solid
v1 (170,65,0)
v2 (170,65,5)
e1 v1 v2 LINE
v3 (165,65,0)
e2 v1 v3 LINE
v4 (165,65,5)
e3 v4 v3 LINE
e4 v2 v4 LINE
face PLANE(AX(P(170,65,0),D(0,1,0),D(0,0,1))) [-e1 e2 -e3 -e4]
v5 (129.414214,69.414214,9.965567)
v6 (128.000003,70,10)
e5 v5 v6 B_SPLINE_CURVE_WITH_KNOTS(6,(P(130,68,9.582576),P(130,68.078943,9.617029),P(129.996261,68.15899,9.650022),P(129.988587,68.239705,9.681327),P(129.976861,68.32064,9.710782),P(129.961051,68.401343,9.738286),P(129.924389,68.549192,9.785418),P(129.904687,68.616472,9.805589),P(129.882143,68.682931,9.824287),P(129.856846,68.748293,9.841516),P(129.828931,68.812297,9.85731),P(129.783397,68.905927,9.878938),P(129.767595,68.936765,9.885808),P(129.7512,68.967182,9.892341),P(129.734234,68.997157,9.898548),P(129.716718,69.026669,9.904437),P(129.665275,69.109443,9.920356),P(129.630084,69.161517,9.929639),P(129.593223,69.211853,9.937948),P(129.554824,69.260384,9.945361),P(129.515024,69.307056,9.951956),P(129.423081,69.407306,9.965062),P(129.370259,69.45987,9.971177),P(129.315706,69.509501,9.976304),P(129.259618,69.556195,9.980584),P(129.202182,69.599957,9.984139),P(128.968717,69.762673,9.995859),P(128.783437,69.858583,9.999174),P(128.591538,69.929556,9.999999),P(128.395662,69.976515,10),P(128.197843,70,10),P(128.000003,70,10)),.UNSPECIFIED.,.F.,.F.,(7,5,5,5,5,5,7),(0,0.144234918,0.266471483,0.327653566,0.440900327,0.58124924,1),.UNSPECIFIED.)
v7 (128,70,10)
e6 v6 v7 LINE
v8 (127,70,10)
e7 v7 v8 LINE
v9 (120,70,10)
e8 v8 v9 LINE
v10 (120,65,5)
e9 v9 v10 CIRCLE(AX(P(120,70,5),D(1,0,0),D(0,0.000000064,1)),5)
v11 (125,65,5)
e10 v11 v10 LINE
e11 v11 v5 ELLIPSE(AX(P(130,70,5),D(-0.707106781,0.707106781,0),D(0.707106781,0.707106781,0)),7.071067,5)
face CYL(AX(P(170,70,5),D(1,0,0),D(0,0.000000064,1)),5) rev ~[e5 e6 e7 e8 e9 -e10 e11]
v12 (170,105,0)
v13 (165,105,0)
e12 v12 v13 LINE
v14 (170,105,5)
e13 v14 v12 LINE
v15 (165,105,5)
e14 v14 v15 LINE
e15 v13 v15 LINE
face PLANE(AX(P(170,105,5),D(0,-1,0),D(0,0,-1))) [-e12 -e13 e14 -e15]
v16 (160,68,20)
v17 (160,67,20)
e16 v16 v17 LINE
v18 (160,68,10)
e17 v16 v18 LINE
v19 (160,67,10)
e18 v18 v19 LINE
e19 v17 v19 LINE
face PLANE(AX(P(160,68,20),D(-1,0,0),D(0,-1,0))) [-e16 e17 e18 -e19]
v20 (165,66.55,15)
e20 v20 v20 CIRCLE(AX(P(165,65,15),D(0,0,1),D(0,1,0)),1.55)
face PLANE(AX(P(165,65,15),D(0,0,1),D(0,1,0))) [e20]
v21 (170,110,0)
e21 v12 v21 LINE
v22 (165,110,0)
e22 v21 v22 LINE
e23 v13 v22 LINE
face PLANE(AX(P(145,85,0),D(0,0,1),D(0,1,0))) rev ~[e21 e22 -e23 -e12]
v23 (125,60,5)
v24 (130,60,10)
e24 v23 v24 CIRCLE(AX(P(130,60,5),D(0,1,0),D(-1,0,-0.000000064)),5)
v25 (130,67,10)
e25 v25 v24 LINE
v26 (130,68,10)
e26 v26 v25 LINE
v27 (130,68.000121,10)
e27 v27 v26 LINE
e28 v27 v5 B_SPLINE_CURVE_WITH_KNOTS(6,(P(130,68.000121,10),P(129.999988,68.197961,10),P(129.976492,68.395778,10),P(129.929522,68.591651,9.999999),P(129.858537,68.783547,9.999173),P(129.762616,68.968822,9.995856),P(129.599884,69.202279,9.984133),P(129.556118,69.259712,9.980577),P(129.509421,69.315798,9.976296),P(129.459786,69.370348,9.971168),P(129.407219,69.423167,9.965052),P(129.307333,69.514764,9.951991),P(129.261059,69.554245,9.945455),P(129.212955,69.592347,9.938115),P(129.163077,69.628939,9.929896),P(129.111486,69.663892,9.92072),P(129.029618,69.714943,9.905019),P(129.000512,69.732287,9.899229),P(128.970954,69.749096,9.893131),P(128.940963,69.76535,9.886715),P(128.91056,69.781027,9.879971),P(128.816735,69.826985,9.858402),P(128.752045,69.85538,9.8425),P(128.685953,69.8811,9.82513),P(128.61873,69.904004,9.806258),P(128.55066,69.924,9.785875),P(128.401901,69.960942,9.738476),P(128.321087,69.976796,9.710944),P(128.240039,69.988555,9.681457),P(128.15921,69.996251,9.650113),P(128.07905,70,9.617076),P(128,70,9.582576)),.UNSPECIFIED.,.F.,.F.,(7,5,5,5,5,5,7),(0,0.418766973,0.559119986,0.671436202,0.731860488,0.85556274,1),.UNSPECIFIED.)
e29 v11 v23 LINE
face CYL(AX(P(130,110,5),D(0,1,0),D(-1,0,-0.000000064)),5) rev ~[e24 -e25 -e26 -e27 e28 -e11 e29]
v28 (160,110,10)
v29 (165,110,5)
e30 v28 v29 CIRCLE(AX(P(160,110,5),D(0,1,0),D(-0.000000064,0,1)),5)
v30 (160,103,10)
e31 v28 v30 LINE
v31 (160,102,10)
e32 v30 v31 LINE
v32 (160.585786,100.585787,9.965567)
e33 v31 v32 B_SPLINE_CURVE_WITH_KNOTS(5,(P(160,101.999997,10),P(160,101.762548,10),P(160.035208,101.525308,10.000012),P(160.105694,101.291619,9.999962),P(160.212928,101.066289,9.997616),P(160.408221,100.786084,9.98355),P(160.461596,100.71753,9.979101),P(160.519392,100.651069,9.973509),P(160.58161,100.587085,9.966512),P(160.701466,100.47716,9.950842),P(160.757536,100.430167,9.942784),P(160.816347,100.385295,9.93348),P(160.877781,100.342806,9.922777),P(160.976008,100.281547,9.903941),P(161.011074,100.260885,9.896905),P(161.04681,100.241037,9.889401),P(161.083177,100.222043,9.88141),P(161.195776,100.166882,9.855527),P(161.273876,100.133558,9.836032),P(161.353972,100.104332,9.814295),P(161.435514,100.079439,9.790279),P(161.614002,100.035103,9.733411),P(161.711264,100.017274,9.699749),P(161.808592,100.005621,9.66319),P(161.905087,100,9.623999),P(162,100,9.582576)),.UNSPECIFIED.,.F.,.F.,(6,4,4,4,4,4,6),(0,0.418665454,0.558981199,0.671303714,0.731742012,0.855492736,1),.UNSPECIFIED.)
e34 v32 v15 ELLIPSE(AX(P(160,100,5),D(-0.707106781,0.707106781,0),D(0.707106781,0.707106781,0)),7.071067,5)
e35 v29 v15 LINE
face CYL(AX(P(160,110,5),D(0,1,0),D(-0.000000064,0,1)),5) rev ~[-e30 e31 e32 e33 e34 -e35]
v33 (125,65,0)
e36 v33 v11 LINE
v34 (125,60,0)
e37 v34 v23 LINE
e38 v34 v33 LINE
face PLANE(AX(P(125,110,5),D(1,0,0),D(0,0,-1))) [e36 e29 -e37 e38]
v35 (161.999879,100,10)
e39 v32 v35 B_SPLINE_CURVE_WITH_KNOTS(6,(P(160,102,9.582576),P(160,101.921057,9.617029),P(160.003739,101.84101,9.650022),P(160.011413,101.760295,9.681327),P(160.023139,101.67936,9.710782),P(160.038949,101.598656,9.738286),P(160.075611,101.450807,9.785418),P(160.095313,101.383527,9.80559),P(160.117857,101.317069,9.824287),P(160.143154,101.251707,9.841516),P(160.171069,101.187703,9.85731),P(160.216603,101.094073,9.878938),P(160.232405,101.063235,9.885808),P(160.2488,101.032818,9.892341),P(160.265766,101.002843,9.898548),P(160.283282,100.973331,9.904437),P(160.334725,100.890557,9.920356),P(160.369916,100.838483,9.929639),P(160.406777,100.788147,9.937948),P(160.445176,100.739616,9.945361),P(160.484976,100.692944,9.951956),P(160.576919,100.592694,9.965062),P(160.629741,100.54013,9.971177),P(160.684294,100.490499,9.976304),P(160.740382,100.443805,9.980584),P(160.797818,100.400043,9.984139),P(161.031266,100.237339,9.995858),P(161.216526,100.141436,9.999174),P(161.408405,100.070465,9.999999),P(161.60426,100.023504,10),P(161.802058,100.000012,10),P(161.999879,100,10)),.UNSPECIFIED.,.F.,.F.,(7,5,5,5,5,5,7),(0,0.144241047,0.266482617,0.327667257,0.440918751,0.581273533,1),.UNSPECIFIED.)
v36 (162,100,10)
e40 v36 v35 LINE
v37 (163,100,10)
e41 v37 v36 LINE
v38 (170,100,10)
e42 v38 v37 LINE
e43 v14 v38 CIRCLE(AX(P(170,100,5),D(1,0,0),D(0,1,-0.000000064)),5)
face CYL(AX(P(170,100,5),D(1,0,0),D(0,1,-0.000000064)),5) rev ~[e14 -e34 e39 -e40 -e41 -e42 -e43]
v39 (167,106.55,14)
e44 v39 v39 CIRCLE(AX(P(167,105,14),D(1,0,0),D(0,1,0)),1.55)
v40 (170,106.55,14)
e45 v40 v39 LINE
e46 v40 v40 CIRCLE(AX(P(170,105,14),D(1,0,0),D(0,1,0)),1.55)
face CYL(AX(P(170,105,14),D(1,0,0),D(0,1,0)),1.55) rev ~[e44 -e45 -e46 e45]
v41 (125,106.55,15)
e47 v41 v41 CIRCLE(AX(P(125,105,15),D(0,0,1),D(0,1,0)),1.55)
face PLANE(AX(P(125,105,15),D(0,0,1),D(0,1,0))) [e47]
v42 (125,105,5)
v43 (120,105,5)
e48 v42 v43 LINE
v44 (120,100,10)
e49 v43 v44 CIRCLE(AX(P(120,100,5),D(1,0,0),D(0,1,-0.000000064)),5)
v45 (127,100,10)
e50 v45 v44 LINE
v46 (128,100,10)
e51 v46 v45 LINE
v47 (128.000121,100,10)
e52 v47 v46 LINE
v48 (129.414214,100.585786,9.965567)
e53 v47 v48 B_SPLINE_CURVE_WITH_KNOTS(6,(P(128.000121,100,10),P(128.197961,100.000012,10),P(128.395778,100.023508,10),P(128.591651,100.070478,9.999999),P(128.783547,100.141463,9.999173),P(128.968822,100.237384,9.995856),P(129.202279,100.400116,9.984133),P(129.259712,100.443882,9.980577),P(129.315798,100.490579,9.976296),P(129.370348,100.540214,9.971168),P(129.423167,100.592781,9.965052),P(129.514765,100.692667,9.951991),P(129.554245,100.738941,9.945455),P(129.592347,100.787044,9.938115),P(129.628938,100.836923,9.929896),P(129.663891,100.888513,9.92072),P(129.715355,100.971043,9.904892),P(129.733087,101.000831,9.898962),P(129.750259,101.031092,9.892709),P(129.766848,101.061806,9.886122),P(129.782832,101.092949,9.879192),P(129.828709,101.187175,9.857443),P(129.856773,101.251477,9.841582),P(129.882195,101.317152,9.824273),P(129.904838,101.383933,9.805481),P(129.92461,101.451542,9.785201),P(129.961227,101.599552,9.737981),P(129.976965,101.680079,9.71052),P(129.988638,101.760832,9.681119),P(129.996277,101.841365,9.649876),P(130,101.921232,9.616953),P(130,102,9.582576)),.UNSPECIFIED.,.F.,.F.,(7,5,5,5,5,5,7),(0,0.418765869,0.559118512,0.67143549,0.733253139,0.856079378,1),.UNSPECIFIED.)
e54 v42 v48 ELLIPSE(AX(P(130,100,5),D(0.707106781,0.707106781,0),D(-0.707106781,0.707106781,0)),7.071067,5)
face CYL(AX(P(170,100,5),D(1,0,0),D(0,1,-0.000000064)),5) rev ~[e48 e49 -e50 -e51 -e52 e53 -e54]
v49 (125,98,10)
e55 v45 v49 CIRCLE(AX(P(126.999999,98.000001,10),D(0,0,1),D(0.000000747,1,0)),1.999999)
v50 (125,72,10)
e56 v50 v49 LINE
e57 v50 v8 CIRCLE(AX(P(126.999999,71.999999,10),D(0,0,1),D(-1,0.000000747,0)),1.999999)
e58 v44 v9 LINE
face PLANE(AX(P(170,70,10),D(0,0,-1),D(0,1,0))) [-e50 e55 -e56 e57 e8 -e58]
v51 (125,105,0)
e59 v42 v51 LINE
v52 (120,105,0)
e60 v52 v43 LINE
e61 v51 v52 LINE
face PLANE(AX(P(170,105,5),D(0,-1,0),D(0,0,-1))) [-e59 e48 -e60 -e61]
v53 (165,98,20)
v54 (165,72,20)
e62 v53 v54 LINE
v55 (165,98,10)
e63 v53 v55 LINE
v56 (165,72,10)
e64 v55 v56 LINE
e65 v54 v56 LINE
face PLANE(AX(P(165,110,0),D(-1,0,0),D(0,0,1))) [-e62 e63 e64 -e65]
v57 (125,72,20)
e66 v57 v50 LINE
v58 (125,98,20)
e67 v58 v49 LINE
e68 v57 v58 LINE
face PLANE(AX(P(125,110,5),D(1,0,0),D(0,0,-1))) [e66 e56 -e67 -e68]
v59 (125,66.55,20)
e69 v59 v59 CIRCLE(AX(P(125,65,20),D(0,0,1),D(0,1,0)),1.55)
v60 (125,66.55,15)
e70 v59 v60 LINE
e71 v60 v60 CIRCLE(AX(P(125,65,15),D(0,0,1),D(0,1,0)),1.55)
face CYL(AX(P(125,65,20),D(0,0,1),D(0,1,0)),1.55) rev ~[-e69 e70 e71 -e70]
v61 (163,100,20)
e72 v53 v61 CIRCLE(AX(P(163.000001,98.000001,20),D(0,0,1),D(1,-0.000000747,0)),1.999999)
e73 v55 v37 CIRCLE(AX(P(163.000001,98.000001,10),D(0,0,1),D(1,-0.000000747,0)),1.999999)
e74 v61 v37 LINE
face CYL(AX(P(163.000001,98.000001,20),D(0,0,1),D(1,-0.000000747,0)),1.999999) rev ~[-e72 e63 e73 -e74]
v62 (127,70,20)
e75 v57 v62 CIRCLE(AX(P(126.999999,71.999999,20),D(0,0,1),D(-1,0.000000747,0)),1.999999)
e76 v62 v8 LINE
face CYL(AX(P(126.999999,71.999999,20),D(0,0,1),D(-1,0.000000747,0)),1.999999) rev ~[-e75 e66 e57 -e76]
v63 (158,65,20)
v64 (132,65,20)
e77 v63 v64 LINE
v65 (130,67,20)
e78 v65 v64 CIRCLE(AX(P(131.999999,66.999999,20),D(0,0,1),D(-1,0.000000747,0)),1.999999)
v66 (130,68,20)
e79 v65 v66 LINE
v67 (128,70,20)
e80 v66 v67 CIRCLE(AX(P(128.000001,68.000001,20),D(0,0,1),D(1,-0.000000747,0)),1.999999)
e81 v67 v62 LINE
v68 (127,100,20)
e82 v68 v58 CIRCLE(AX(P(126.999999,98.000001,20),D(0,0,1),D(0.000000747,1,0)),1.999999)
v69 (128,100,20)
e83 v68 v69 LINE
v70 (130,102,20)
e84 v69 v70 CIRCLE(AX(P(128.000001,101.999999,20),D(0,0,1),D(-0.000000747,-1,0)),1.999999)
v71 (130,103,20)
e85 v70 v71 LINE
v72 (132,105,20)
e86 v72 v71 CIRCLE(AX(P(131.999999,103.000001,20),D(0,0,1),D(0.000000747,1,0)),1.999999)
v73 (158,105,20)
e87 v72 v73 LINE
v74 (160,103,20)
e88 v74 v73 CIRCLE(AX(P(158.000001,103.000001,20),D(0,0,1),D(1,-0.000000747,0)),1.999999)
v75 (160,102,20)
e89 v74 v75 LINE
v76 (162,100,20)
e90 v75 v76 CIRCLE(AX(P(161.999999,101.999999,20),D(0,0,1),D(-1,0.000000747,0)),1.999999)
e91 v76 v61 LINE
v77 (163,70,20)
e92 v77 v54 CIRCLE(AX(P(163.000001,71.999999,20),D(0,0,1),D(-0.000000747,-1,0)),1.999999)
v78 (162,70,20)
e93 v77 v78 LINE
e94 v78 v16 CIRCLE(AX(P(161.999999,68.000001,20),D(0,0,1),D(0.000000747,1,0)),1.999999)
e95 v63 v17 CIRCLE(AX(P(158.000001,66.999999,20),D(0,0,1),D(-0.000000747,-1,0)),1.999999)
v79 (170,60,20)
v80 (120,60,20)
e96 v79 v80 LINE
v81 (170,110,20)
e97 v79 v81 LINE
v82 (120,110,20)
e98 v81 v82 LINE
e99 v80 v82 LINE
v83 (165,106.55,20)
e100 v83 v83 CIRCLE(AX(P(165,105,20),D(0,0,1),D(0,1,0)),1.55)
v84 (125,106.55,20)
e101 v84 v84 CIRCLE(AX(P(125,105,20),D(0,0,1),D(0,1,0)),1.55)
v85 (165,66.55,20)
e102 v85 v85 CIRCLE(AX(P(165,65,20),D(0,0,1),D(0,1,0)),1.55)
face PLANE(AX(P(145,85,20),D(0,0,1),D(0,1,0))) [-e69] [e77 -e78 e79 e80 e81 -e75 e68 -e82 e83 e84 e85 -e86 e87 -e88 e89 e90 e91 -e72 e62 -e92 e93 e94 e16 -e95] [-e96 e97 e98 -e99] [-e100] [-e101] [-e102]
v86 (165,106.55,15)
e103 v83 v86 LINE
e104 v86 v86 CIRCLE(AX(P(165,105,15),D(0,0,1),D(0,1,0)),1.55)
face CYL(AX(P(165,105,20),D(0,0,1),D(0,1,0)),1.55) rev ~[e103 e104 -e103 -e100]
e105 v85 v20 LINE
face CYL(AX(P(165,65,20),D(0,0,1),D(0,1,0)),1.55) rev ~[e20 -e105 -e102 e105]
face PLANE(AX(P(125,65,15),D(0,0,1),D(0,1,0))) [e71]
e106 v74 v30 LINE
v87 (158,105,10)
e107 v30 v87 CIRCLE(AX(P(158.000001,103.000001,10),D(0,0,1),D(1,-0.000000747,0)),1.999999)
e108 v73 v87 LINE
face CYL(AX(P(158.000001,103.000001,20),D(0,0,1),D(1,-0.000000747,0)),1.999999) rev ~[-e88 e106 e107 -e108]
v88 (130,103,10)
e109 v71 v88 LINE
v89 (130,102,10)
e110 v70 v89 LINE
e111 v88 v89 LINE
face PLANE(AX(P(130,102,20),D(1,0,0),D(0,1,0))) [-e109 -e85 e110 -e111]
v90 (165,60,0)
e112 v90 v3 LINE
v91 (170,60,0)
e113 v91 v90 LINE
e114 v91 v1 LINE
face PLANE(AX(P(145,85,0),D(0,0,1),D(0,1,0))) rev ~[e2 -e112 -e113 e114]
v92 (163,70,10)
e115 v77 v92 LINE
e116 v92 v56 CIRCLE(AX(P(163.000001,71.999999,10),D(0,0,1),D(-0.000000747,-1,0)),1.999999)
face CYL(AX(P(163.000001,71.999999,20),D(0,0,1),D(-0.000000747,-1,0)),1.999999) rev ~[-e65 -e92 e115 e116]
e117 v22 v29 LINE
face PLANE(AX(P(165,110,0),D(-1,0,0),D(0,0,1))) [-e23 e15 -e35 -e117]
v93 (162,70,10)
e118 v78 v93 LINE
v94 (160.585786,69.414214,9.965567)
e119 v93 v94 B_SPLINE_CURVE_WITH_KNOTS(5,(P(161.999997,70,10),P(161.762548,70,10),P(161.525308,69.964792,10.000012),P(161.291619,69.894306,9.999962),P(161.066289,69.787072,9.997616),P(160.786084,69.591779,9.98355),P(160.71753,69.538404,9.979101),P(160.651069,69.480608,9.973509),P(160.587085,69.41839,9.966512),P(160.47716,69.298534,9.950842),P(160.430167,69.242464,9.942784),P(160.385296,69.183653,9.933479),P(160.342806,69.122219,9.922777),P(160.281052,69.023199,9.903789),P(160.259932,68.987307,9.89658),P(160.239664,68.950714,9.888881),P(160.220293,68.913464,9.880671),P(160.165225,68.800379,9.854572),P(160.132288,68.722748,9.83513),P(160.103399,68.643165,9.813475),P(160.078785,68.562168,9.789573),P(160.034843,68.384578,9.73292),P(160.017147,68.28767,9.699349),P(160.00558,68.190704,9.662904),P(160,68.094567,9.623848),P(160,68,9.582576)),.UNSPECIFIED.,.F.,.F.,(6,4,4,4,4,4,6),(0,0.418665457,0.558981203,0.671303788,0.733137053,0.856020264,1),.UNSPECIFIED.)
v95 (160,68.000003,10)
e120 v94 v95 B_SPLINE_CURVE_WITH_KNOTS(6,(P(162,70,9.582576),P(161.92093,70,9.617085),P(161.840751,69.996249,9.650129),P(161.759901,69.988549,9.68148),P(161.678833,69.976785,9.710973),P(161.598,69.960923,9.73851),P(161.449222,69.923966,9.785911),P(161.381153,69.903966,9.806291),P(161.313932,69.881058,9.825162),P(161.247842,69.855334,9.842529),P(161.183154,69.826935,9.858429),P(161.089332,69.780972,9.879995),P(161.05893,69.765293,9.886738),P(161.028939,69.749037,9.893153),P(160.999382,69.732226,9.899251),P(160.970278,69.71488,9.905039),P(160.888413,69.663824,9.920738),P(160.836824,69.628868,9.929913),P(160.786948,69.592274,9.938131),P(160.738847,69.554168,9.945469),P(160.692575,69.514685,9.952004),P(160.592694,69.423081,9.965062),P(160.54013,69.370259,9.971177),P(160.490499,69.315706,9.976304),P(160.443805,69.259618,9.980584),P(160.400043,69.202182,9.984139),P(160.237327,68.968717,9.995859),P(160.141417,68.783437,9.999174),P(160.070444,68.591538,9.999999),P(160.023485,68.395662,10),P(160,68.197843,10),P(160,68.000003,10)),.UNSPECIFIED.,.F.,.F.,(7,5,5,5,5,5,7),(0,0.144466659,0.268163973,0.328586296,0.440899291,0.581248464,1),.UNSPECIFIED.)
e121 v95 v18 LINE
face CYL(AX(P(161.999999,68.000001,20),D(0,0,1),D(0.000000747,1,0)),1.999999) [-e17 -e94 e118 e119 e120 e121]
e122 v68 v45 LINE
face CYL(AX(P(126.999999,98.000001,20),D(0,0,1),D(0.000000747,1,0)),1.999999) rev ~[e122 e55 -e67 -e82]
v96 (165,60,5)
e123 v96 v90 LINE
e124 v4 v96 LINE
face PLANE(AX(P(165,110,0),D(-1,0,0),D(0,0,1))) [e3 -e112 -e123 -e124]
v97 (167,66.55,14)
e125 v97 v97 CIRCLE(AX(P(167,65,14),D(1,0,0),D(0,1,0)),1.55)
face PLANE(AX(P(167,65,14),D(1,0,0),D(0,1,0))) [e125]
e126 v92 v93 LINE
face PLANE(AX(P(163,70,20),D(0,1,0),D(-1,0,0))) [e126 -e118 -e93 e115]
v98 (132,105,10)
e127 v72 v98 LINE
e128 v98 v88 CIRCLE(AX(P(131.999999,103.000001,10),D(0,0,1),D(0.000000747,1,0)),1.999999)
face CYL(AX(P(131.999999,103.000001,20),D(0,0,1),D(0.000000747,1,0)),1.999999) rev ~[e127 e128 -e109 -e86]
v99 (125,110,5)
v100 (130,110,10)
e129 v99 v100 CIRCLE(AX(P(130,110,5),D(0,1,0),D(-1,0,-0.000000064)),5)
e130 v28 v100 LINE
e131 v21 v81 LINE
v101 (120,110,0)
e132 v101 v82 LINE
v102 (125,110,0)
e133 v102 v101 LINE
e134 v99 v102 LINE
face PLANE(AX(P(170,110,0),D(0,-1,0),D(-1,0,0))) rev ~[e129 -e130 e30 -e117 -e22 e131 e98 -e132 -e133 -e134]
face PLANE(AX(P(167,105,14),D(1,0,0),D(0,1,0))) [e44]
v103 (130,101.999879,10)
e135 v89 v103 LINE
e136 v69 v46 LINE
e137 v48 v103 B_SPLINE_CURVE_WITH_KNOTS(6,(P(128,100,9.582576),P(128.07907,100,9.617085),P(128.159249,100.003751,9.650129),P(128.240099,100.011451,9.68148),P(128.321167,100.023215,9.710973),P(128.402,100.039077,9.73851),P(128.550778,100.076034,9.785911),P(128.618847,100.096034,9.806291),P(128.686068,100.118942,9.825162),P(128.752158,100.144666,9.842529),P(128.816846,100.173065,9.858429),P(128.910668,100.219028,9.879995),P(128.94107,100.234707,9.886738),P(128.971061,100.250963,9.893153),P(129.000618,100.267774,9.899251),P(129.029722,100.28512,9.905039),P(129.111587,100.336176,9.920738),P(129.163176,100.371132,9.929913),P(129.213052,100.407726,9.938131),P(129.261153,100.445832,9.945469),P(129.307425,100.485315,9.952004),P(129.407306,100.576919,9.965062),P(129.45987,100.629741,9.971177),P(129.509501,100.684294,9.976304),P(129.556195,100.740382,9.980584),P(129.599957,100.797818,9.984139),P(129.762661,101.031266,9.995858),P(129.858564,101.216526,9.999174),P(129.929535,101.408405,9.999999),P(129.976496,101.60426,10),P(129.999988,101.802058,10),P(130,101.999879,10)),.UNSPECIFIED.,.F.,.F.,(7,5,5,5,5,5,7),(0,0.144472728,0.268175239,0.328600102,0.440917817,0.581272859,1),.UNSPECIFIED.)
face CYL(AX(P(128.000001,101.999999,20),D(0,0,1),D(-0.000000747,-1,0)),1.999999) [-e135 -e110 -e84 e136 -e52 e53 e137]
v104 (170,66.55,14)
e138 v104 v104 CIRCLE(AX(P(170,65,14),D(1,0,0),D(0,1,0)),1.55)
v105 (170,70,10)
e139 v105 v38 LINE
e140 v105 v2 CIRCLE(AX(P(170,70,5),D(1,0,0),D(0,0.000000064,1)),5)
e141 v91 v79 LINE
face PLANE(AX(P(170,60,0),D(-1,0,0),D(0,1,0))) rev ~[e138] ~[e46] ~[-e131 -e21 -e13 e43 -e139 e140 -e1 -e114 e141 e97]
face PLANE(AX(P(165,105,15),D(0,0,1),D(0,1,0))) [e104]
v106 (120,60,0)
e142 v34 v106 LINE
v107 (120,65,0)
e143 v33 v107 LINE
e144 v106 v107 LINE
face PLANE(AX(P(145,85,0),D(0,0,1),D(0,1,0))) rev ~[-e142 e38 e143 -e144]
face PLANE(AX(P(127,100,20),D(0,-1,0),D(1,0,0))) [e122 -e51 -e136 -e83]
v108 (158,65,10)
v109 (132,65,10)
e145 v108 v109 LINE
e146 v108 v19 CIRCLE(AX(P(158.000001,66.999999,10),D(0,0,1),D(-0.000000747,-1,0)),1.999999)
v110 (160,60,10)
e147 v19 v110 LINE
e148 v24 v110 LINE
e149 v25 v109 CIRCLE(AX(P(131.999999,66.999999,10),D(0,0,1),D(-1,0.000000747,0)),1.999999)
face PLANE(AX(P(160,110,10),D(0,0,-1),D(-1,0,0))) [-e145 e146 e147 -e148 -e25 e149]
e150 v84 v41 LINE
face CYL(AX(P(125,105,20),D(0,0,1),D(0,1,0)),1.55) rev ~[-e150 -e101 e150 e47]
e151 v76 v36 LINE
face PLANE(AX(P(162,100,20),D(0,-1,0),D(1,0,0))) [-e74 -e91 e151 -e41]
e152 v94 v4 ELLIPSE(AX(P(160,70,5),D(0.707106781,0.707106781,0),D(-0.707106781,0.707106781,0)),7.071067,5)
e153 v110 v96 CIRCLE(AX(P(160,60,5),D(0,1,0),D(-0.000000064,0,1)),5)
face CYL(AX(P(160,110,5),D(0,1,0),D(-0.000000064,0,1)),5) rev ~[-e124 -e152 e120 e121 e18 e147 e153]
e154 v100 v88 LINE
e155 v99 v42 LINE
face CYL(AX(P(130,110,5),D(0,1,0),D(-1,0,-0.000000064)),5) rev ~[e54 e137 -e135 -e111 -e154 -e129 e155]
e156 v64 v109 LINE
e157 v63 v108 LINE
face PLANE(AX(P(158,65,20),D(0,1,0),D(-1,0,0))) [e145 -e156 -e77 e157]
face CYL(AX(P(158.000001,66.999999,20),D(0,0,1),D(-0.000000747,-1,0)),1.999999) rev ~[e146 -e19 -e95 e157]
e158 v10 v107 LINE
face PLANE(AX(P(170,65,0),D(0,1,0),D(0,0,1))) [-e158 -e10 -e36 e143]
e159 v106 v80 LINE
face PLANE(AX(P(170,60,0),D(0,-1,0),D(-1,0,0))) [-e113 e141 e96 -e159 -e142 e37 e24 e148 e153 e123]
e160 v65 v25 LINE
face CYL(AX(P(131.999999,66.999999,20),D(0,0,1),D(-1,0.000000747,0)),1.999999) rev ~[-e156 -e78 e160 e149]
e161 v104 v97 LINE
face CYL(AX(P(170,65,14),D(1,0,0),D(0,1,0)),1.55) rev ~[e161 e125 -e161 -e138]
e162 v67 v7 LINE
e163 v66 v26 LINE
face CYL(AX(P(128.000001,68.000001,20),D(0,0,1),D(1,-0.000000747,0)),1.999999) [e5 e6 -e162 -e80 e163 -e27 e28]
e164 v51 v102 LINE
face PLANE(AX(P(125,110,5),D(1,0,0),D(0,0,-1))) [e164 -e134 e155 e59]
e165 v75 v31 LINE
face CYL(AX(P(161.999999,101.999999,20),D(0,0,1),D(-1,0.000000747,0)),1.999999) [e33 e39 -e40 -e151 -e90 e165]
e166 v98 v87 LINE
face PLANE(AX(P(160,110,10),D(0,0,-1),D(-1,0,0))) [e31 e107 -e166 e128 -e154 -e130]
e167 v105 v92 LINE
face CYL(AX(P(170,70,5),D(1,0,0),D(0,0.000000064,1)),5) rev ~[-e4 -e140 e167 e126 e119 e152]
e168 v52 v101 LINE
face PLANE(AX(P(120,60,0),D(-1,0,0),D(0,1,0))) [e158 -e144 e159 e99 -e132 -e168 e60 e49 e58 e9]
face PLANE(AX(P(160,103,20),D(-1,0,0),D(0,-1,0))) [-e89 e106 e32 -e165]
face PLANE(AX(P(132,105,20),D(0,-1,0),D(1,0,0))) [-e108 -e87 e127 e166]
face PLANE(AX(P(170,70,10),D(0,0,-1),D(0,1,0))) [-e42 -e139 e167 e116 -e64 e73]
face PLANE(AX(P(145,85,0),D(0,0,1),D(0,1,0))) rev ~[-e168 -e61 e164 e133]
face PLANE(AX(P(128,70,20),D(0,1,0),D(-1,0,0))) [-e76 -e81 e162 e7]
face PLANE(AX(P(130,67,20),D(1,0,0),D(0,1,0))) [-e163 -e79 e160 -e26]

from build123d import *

# Parameters (mm, degrees)
SKETCH087_W             = 50
SKETCH087_H             = 50
PAD015_DEPTH            = 20
POCKET073_DEPTH         = 20.001
POCKET074_DEPTH         = 50.001
POCKET075_DEPTH         = 50.001
SKETCH091_R             = 1.55
POCKET076_DEPTH         = 5
SKETCH092_R             = 1.55
POCKET077_DEPTH         = 3
BODY016_PLACEMENT_ANGLE = 90


with BuildPart() as part:
    # Sketch087 → Pad015 (new body)
    with BuildSketch(Plane.XY):
        Rectangle(SKETCH087_W, SKETCH087_H)
    extrude(amount=PAD015_DEPTH)

    # Sketch088 (on Face6 of Pad015) → Pocket073 (cut, through all)
    with BuildSketch(Plane.XY.offset(20)):
        with BuildLine():
            Line((-18, 15), (-17, 15))
            ThreePointArc((-17, 15), (-15.585786, 15.585786), (-15, 17))
            Line((-15, 17), (-15, 18))
            ThreePointArc((-13, 20), (-14.414214, 19.414214), (-15, 18))
            Line((-13, 20), (13, 20))
            ThreePointArc((15, 18), (14.414214, 19.414214), (13, 20))
            Line((15, 18), (15, 17))
            ThreePointArc((15, 17), (15.585786, 15.585786), (17, 15))
            Line((17, 15), (18, 15))
            ThreePointArc((20, 13), (19.414214, 14.414214), (18, 15))
            Line((20, 13), (20, -13))
            ThreePointArc((18, -15), (19.414214, -14.414214), (20, -13))
            Line((18, -15), (17, -15))
            ThreePointArc((17, -15), (15.585786, -15.585786), (15, -17))
            Line((15, -17), (15, -18))
            ThreePointArc((13, -20), (14.414214, -19.414214), (15, -18))
            Line((13, -20), (-13, -20))
            ThreePointArc((-15, -18), (-14.414214, -19.414214), (-13, -20))
            Line((-15, -18), (-15, -17))
            ThreePointArc((-15, -17), (-15.585786, -15.585786), (-17, -15))
            Line((-17, -15), (-18, -15))
            ThreePointArc((-20, -13), (-19.414214, -14.414214), (-18, -15))
            Line((-20, -13), (-20, 13))
            ThreePointArc((-18, 15), (-19.414214, 14.414214), (-20, 13))
        make_face()
    extrude(amount=-POCKET073_DEPTH, mode=Mode.SUBTRACT)

    # Sketch089 (on Face3 of Pocket073) → Pocket074 (cut, through all)
    with BuildSketch(Plane.YZ.offset(25)):
        with BuildLine():
            Line((-15, 10), (15, 10))
            ThreePointArc((20, 5), (18.535534, 8.535534), (15, 10))
            Line((20, 5), (20, 0))
            Line((20, 0), (-20, 0))
            Line((-20, 0), (-20, 5))
            ThreePointArc((-15, 10), (-18.535534, 8.535534), (-20, 5))
        make_face()
    extrude(amount=-POCKET074_DEPTH, mode=Mode.SUBTRACT)

    # Sketch090 (on Face6 of Pocket073) → Pocket075 (cut, through all)
    with BuildSketch(Plane.XZ.offset(25)):
        with BuildLine():
            Line((-15, 10), (15, 10))
            ThreePointArc((20, 5), (18.535534, 8.535534), (15, 10))
            Line((20, 5), (20, 0))
            Line((20, 0), (-20, 0))
            Line((-20, 0), (-20, 5))
            ThreePointArc((-15, 10), (-18.535534, 8.535534), (-20, 5))
        make_face()
    extrude(amount=-POCKET075_DEPTH, mode=Mode.SUBTRACT)

    # Sketch091 → Pocket076 (cut)
    with BuildSketch(Plane.XY.offset(20)):
        with Locations((-20, 20)):
            Circle(SKETCH091_R)
        with Locations((20, 20)):
            Circle(SKETCH091_R)
        with Locations((20, -20)):
            Circle(SKETCH091_R)
        with Locations((-20, -20)):
            Circle(SKETCH091_R)
    extrude(amount=-POCKET076_DEPTH, mode=Mode.SUBTRACT)

    # Sketch092 (on Face27 of Pocket076) → Pocket077 (cut)
    with BuildSketch(Plane.XZ.offset(25)):
        with Locations((-20, 14)):
            Circle(SKETCH092_R)
        with Locations((20, 14)):
            Circle(SKETCH092_R)
    extrude(amount=-POCKET077_DEPTH, mode=Mode.SUBTRACT)


with BuildPart() as part_1:
    # Body016 placement: moved
    add(part.part.moved(Location((145, 85, 0))).rotate(Axis((145, 85, 0), (0, 0, 1)), BODY016_PLACEMENT_ANGLE))


solid = part_1.part
